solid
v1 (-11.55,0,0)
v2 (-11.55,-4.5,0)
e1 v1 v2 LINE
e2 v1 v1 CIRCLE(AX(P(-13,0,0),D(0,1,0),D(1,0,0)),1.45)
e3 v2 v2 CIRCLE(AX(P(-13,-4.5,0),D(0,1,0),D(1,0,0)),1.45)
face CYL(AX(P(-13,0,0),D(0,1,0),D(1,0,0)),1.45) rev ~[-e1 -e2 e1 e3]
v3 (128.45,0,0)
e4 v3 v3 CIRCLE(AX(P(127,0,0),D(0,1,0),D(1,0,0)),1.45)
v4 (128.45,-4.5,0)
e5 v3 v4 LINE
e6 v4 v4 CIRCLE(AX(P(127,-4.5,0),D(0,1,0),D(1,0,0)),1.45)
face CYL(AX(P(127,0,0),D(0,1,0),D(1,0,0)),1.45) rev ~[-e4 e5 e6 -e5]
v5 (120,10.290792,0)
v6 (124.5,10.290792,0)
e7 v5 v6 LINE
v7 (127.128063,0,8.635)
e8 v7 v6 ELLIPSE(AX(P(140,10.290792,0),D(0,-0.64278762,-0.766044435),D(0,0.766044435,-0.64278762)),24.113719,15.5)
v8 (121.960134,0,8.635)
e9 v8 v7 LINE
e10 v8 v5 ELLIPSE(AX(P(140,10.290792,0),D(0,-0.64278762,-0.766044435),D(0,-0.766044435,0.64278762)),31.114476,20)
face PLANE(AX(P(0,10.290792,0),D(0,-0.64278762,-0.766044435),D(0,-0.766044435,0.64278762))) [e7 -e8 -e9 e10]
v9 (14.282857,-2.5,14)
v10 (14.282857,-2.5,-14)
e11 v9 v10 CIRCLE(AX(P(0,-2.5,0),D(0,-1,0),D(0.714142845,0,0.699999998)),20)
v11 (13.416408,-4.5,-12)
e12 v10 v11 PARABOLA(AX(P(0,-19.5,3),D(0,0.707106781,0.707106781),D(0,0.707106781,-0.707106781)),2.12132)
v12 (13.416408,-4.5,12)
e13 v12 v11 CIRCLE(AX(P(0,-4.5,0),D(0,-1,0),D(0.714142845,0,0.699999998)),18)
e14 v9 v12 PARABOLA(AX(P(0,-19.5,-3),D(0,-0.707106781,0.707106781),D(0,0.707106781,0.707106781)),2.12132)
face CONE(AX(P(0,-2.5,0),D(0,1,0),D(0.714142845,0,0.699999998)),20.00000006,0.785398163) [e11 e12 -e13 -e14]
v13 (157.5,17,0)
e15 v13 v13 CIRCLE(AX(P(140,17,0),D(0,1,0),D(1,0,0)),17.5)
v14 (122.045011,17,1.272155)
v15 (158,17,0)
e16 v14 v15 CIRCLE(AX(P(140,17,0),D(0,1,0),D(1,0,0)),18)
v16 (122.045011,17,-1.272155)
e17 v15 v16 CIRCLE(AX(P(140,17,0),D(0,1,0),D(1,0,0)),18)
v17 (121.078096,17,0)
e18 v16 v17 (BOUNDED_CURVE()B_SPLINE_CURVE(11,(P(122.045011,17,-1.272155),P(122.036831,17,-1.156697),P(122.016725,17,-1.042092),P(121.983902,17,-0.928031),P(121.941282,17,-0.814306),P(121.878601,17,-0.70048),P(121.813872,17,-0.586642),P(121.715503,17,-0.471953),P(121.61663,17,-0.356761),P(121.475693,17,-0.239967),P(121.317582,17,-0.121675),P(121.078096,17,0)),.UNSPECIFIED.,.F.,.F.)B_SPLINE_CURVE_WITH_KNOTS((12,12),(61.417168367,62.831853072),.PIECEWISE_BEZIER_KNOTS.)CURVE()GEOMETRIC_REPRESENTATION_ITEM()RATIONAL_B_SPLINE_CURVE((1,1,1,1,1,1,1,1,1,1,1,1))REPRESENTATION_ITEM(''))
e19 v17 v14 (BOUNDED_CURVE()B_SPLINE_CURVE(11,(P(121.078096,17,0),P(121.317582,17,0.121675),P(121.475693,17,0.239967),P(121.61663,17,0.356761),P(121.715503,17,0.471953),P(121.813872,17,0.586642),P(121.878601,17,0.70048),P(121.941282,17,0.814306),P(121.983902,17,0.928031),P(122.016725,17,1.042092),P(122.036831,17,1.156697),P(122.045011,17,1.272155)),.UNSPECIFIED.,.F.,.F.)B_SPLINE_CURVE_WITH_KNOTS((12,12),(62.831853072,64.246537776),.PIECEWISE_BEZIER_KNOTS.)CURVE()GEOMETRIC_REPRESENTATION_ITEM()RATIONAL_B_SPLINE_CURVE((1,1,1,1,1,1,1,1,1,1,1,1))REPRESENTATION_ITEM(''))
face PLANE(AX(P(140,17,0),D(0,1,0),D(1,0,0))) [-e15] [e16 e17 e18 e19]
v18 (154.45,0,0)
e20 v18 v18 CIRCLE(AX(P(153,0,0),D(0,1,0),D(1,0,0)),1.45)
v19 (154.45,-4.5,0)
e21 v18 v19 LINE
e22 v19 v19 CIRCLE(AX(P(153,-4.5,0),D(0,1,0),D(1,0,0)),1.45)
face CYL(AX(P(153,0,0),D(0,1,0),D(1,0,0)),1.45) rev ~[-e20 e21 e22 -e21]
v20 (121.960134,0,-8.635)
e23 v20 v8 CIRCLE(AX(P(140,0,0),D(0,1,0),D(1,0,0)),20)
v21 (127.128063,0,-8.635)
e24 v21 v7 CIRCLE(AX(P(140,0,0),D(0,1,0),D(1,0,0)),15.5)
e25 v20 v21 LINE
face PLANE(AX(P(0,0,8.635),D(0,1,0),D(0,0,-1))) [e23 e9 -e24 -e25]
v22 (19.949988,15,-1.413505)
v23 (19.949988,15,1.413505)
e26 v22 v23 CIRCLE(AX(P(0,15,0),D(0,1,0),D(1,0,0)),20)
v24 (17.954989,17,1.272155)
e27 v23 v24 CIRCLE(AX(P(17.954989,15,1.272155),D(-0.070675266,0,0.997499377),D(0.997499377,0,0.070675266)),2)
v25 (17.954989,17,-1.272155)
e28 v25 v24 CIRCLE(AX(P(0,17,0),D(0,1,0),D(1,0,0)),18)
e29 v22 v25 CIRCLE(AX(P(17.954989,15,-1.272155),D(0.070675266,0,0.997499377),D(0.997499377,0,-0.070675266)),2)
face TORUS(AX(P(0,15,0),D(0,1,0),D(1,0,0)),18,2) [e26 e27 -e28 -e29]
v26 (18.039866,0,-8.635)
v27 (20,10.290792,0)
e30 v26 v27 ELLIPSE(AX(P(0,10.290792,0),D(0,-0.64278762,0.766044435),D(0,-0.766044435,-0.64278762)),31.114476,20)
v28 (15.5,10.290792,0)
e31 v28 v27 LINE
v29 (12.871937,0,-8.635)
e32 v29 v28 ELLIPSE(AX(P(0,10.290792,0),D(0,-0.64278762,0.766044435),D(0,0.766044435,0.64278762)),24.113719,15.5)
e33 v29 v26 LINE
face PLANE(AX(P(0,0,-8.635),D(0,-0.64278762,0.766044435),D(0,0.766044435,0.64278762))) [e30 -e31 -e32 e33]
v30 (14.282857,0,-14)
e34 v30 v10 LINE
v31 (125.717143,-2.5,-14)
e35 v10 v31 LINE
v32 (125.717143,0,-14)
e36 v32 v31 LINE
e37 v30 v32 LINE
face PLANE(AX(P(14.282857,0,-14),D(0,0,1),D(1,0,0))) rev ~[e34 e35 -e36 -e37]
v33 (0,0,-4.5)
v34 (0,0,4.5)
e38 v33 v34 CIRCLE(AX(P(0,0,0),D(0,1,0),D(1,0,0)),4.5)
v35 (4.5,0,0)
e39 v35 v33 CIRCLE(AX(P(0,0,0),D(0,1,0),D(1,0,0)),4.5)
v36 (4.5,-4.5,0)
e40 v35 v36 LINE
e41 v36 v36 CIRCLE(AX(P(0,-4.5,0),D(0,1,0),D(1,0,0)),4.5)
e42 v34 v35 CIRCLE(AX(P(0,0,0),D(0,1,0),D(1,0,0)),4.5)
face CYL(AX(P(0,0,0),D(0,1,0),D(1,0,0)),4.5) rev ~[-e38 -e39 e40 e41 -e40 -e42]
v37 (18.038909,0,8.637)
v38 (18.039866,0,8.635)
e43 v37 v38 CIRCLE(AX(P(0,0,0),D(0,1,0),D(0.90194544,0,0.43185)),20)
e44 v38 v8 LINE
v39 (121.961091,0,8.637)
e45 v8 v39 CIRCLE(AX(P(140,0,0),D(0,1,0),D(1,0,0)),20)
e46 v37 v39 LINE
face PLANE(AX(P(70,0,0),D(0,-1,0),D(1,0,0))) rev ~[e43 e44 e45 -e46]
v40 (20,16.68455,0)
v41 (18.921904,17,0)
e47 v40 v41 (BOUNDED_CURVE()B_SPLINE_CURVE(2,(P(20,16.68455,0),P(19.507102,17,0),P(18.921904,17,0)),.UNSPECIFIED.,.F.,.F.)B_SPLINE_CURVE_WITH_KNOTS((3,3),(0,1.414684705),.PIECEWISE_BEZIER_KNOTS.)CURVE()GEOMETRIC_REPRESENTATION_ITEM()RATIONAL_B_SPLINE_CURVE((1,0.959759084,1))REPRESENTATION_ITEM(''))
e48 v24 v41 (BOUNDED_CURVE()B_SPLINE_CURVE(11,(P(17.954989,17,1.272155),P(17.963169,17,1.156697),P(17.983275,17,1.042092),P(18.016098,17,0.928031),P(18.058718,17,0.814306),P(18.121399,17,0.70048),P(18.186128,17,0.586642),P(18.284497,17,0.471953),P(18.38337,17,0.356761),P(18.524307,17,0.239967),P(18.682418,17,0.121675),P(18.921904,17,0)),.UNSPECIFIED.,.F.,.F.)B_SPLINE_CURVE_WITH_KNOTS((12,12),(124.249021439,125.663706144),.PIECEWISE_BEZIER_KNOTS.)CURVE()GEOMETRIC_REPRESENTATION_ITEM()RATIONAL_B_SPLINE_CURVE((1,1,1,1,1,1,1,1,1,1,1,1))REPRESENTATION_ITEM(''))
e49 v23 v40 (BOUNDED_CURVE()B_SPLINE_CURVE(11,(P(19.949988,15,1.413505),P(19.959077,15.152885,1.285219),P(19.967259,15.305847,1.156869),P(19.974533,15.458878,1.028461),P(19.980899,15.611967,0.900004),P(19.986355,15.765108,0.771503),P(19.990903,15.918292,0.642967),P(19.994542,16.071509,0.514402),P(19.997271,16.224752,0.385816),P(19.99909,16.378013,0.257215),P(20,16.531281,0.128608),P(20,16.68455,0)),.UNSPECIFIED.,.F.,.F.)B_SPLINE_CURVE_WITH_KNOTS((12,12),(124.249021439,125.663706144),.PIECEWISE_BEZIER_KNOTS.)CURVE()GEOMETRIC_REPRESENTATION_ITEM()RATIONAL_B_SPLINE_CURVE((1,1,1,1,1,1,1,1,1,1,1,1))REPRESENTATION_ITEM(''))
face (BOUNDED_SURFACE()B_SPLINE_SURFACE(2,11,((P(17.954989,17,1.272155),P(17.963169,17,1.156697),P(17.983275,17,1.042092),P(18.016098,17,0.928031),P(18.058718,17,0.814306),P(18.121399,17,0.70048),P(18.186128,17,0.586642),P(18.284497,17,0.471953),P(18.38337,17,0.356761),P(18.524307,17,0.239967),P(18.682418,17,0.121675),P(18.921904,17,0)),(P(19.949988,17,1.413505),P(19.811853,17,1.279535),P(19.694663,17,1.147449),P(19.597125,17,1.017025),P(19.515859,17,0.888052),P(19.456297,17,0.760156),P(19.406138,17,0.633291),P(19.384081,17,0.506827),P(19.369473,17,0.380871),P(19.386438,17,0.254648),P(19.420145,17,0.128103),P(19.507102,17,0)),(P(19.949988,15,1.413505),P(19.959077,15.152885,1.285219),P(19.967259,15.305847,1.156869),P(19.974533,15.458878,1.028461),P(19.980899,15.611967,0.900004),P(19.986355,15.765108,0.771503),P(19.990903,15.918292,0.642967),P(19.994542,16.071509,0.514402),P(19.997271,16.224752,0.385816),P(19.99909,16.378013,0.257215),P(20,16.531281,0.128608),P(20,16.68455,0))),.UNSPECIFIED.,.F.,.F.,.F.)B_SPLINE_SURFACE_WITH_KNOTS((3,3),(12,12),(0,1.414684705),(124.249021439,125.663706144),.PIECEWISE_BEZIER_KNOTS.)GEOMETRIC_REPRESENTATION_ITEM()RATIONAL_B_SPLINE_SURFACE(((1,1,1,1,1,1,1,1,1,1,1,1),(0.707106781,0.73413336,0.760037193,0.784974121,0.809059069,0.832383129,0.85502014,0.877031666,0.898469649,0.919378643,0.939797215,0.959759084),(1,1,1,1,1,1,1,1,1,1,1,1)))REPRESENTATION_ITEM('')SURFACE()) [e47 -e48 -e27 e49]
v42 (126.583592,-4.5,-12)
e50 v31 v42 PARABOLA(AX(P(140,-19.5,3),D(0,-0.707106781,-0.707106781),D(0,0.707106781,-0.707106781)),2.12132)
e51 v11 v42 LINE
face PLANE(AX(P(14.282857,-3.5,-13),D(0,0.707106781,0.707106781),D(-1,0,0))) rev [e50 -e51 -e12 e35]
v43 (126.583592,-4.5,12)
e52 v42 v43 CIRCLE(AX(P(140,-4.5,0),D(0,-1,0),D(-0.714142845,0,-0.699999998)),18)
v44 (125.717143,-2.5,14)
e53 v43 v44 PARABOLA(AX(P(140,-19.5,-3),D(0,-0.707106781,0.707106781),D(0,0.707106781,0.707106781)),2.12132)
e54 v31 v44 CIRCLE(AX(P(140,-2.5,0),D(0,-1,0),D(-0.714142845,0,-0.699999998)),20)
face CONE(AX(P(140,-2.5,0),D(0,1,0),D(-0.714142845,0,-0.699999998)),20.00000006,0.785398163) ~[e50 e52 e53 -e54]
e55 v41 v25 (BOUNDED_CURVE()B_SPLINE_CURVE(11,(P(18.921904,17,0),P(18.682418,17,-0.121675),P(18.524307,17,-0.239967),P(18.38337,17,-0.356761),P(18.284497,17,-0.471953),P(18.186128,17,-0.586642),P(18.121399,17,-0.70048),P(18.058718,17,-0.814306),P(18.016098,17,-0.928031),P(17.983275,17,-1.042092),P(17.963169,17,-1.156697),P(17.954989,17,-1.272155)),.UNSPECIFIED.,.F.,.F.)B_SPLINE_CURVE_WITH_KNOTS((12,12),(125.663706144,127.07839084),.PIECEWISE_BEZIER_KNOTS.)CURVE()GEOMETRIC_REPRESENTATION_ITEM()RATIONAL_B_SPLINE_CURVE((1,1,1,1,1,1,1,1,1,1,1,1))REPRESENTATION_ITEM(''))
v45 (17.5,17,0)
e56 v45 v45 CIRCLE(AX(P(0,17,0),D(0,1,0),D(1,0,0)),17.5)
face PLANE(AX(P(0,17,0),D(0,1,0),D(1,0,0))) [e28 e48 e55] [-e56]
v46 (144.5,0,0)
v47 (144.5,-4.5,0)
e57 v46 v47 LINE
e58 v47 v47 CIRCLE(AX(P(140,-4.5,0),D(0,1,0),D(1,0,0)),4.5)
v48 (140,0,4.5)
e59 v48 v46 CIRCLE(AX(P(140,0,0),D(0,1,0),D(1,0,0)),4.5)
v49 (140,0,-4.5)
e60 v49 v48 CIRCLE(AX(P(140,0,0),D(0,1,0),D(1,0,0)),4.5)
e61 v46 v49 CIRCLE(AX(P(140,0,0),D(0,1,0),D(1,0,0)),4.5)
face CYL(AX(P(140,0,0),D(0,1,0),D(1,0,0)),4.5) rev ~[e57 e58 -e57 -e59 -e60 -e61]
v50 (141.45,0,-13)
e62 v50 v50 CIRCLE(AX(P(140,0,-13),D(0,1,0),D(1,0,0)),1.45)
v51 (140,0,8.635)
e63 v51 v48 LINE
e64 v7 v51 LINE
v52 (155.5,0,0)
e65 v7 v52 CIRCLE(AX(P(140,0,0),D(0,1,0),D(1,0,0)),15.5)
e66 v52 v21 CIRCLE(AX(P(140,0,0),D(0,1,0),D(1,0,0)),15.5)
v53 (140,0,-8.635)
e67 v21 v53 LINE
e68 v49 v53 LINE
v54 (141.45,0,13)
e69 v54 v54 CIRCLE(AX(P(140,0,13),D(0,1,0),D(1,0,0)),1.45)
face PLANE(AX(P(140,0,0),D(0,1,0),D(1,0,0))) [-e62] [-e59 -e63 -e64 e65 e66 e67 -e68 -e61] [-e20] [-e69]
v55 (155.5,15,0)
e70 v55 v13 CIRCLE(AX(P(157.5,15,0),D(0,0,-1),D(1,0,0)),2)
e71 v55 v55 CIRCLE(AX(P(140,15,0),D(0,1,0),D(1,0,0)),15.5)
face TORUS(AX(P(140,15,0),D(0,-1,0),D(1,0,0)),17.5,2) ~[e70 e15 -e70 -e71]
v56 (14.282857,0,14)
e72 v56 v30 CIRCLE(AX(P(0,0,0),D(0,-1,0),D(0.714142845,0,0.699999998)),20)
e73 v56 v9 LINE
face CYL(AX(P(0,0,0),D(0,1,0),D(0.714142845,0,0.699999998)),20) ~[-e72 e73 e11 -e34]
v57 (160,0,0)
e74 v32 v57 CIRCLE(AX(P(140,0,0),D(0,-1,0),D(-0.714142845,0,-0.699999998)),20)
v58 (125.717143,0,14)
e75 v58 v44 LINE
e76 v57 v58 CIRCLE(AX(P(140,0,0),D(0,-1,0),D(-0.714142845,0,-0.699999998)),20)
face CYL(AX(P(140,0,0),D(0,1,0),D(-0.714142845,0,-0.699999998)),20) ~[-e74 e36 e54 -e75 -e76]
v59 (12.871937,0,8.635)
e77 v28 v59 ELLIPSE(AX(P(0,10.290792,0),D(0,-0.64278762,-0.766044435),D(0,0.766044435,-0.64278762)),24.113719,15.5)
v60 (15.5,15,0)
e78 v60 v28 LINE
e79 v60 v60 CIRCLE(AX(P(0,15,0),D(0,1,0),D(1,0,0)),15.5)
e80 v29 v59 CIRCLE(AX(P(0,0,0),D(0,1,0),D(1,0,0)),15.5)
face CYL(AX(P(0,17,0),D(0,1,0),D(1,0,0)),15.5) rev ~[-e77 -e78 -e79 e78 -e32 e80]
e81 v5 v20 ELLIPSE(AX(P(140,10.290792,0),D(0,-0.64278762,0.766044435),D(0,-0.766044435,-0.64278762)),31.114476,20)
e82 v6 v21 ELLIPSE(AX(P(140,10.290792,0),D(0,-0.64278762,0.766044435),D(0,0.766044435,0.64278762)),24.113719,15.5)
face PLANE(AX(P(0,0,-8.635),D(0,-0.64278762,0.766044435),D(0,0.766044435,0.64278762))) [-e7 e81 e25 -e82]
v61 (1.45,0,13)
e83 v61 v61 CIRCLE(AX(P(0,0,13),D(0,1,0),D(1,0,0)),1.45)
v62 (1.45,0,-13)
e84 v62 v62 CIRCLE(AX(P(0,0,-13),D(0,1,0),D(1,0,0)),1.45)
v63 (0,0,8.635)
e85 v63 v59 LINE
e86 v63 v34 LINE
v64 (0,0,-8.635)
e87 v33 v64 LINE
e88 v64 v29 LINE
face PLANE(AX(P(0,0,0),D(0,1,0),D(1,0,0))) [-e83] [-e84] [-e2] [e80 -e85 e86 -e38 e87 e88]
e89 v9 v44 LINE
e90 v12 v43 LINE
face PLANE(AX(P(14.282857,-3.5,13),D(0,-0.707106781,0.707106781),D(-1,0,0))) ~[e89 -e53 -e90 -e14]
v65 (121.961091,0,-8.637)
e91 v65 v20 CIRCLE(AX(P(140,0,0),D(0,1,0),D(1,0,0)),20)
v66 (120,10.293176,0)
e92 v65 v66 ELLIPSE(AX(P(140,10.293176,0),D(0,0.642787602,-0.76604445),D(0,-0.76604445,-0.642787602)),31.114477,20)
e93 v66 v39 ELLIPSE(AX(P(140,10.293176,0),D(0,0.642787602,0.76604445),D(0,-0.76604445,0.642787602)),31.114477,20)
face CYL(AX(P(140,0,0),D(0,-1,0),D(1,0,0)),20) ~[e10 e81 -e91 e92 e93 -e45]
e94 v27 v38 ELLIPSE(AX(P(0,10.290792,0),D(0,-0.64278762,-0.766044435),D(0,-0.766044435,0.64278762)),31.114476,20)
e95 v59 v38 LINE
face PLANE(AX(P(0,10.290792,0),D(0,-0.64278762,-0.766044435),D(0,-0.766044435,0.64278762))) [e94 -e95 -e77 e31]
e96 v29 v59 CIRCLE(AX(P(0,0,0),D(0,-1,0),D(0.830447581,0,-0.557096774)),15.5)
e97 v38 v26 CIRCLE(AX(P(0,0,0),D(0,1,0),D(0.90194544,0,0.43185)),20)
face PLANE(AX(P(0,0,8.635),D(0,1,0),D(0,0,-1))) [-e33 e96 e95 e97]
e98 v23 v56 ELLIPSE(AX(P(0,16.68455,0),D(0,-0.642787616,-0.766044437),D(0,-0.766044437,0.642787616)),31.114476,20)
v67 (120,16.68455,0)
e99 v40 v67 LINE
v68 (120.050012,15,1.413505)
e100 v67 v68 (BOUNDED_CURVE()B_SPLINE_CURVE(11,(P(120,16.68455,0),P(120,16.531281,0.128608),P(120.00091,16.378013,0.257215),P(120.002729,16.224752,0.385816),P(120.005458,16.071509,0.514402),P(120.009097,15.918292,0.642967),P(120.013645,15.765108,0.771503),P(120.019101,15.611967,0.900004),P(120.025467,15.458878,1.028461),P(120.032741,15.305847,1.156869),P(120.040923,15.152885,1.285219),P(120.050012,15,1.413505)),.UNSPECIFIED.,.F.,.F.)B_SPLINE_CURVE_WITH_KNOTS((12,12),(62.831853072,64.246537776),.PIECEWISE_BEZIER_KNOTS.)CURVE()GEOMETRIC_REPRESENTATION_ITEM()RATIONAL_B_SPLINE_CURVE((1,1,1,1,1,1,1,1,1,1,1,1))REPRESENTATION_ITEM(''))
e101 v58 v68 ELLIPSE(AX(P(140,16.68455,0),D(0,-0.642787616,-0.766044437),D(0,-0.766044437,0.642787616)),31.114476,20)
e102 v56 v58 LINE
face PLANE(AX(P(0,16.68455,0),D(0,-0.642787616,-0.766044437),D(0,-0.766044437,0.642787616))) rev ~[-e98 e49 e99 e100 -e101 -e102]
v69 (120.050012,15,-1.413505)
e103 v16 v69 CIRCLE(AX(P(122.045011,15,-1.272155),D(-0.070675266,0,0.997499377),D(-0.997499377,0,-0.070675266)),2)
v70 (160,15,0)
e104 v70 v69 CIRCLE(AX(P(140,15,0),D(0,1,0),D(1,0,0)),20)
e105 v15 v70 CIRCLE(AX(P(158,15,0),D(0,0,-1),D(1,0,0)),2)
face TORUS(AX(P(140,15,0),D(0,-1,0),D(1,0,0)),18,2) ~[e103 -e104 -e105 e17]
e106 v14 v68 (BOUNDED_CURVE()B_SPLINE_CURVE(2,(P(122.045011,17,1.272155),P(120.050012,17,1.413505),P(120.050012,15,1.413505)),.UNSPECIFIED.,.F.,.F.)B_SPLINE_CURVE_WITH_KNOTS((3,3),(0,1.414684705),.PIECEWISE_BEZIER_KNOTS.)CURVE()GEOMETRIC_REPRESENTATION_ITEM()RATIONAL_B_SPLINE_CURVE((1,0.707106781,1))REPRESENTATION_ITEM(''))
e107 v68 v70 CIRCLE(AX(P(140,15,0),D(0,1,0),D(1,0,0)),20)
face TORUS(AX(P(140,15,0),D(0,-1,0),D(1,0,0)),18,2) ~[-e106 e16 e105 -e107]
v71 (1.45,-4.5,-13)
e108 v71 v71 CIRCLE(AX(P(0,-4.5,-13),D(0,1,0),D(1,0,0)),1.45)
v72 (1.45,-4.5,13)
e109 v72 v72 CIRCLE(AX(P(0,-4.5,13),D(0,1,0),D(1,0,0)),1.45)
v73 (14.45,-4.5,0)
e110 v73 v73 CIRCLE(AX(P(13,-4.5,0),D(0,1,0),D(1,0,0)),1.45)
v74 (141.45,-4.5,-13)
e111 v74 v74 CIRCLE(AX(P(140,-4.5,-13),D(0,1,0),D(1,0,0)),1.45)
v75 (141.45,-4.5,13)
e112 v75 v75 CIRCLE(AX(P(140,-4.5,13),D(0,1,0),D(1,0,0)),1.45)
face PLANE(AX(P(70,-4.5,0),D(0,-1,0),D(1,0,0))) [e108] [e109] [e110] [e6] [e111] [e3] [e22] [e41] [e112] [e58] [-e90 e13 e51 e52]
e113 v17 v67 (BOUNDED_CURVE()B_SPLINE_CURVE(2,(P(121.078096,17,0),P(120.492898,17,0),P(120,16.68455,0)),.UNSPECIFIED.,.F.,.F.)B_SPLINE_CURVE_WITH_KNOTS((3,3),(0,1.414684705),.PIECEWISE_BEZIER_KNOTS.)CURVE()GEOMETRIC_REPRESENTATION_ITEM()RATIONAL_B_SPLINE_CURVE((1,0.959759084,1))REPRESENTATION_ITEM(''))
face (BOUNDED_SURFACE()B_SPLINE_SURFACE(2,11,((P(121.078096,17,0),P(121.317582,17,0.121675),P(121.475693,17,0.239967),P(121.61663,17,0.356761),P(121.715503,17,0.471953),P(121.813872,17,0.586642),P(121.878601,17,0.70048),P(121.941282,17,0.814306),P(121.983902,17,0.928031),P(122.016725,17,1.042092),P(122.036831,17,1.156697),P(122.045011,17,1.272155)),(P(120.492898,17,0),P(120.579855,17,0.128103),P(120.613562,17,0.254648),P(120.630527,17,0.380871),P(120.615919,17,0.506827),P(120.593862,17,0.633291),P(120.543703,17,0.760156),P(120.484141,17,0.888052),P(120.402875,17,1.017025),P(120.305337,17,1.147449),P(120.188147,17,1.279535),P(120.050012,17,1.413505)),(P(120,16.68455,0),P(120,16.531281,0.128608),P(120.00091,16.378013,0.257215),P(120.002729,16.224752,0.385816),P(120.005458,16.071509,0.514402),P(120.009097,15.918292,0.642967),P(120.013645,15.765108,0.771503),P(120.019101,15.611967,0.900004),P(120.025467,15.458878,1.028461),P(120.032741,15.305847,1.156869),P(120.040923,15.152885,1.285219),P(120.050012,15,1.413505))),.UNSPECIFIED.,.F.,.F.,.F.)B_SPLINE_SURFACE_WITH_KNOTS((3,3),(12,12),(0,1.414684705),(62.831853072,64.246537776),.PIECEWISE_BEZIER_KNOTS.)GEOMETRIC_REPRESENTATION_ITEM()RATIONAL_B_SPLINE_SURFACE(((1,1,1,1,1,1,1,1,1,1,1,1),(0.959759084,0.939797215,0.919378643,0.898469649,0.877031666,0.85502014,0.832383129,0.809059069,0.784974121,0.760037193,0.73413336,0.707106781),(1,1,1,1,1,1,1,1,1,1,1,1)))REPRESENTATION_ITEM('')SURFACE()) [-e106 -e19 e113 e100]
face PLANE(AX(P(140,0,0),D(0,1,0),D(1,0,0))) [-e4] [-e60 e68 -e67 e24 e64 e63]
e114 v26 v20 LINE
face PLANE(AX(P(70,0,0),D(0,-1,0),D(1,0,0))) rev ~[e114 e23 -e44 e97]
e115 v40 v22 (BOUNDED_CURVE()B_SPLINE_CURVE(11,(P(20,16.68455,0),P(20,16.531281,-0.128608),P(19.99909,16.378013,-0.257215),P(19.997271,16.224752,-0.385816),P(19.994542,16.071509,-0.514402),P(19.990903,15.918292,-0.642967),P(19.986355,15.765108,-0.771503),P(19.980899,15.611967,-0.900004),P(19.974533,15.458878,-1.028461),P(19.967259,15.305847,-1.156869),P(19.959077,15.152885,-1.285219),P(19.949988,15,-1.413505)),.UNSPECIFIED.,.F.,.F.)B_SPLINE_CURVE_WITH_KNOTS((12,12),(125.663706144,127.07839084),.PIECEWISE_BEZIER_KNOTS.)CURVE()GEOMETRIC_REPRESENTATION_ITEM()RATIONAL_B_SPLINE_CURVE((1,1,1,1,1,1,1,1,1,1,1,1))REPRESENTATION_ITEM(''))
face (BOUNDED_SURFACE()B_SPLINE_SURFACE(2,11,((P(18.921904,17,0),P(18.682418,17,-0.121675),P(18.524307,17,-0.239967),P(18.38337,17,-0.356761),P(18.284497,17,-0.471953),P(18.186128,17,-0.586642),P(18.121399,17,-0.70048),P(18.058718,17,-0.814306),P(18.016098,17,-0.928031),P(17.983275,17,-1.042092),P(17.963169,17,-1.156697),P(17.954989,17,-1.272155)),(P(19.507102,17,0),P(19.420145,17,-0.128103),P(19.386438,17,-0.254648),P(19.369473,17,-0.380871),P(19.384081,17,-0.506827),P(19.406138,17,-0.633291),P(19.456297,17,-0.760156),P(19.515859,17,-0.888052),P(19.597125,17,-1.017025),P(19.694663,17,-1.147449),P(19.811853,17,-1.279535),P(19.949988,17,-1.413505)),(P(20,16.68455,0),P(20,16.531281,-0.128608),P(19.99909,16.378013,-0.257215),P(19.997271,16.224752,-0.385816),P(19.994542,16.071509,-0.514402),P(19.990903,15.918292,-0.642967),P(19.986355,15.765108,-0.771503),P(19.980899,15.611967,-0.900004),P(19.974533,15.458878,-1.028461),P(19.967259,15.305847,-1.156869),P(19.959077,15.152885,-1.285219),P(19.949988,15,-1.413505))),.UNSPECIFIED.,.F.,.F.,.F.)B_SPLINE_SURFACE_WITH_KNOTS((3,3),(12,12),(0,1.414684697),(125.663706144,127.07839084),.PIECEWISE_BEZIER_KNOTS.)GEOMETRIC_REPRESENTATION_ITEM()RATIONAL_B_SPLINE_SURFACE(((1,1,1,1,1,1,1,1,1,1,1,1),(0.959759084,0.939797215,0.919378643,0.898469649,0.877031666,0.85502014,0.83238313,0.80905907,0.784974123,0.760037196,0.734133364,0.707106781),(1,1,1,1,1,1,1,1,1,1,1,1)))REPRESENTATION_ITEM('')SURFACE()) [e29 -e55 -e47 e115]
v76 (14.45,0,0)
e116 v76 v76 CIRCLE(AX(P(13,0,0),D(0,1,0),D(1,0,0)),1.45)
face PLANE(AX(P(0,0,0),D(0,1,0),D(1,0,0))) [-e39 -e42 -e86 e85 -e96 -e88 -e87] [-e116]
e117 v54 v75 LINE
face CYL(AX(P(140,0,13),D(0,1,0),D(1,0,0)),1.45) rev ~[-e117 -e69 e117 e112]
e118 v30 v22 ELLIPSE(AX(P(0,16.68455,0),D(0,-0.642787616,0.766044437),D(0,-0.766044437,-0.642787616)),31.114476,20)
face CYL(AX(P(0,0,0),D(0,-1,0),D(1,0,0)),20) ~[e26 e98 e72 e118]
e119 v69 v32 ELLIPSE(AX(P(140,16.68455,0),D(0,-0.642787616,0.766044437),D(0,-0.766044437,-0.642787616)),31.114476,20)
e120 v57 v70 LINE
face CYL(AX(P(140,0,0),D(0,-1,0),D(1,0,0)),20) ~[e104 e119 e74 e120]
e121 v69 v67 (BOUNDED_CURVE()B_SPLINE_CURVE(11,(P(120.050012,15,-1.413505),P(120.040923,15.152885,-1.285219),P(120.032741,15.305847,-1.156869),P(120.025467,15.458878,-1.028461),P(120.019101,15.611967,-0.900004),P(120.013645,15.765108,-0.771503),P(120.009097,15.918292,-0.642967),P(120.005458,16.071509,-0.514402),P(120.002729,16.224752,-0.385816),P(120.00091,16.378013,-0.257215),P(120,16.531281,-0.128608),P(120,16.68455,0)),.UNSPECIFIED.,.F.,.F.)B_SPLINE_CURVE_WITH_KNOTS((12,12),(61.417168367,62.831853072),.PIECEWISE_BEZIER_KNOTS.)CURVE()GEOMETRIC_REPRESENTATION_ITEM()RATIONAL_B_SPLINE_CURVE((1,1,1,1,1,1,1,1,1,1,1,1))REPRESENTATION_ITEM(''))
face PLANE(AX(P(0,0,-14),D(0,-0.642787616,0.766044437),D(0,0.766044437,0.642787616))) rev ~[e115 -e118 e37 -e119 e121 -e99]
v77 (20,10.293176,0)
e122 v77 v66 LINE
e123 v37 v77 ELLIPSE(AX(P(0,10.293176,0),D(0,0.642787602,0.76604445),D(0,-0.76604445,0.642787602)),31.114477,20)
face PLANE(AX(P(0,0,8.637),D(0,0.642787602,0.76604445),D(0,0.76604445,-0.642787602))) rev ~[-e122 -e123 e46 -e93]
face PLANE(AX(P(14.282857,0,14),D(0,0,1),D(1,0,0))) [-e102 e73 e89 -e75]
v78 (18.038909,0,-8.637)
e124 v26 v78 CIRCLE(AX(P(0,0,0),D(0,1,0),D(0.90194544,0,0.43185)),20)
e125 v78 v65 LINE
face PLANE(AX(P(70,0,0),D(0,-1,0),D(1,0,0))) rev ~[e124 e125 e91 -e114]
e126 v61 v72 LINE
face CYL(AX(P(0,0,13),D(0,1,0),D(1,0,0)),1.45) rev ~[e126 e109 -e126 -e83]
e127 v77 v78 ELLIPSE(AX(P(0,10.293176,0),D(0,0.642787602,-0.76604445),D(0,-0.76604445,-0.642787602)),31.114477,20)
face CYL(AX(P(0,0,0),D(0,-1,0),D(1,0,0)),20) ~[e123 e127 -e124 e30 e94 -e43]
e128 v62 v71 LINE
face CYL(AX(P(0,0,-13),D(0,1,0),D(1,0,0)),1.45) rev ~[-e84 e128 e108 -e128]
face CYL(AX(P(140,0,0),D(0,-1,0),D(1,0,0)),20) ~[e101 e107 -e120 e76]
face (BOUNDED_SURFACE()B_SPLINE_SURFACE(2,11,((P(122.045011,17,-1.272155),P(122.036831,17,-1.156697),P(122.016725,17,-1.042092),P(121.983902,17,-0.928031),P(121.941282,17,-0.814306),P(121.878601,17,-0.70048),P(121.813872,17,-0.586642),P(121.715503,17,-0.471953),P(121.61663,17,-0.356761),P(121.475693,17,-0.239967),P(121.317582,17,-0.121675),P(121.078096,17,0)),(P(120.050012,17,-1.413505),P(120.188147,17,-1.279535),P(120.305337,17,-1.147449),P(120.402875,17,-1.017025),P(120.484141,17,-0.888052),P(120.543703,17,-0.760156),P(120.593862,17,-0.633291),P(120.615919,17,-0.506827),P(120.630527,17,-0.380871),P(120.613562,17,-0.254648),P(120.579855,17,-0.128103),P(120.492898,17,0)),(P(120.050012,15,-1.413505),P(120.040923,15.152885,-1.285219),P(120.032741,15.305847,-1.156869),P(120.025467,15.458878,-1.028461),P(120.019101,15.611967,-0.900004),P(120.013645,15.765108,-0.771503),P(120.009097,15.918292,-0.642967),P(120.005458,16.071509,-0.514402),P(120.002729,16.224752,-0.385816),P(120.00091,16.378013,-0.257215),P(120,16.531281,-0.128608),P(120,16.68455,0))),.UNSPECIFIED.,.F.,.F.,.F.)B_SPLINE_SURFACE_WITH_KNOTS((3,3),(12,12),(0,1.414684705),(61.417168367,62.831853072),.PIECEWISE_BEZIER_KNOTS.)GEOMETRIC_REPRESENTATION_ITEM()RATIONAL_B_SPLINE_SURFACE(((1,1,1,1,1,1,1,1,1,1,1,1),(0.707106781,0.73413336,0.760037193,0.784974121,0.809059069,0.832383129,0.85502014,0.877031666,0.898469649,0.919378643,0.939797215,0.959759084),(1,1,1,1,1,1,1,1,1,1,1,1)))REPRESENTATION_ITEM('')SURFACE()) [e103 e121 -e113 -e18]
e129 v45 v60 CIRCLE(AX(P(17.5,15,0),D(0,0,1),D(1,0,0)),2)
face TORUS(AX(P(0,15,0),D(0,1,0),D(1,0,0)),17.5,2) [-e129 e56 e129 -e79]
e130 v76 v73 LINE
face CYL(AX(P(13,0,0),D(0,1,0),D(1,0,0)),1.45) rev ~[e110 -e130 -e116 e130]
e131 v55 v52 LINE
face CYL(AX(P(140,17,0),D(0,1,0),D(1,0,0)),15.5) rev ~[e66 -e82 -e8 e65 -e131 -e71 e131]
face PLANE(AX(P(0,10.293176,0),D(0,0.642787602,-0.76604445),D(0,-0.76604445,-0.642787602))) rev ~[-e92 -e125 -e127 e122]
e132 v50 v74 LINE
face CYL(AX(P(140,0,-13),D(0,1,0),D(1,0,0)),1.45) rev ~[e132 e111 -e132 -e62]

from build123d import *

# Parameters (mm, degrees)
PAD_DEPTH       = 4.5
PAD001_DEPTH    = 140
SKETCH002_R     = 20
PAD002_DEPTH    = 17
SKETCH003_R     = 15.5
POCKET_DEPTH    = 17
POCKET001_DEPTH = 140
FILLET_R        = 2
CHAMFER_SIZE    = 2
SKETCH005_R     = 4.5
SKETCH005_R_2   = 1.45
POCKET002_DEPTH = 5


with BuildPart() as part:
    # Sketch → Pad (new body)
    with BuildSketch(Plane.XZ):
        with BuildLine():
            ThreePointArc((14.282857, 14), (-20, 0), (14.282857, -14))
            Line((14.282857, -14), (125.717143, -14))
            ThreePointArc((125.717143, -14), (160, 0), (125.717143, 14))
            Line((14.282857, 14), (125.717143, 14))
        make_face()
    extrude(amount=PAD_DEPTH)

    # Sketch001 → Pad001 (join)
    with BuildSketch(Plane.YZ):
        Polygon((0, 8.637), (10.293176, 0), (0, -8.637), (0, -14), (16.68455, 0), (0, 14), align=None)
    extrude(amount=PAD001_DEPTH)

    # Sketch002 (on Face4 of Pad001) → Pad002 (join)
    with BuildSketch(Plane(origin=(0, 0, 0), x_dir=(1, 0, 0), z_dir=(0, 1, 0))):
        Circle(SKETCH002_R)
        with Locations((140, 0)):
            Circle(SKETCH002_R)
    extrude(amount=PAD002_DEPTH)

    # Sketch003 (on Face9 of Pad002) → Pocket (cut)
    with BuildSketch(Plane(origin=(0, 17, 0), x_dir=(1, 0, 0), z_dir=(0, 1, 0))):
        Circle(SKETCH003_R)
        with Locations((140, 0)):
            Circle(SKETCH003_R)
    extrude(amount=-POCKET_DEPTH, mode=Mode.SUBTRACT)

    # Sketch004 → Pocket001 (cut)
    with BuildSketch(Plane.YZ):
        Polygon((0, 8.635), (0, -8.635), (10.290792, 0), align=None)
    extrude(amount=POCKET001_DEPTH, mode=Mode.SUBTRACT)

    # Fillet
    fillet_edges = [part.edges().sort_by_distance(p)[0] for p in [
        (120, 17, 0),
        (124.5, 17, 0),
        (-20, 17, 0),
        (-15.5, 17, 0),
    ]]
    fillet(fillet_edges, radius=FILLET_R)

    # Chamfer
    chamfer_edges = [part.edges().sort_by_distance(p)[0] for p in [
        (-20, -4.5, 0),
        (70, -4.5, -14),
        (160, -4.5, 0),
        (70, -4.5, 14),
    ]]
    chamfer(chamfer_edges, length=CHAMFER_SIZE)

    # Sketch005 (on Face29 of Chamfer) → Pocket002 (cut)
    with BuildSketch(Plane(origin=(0, 0, 0), x_dir=(1, 0, 0), z_dir=(0, 1, 0))):
        Circle(SKETCH005_R)
        with Locations((13, 0)):
            Circle(SKETCH005_R_2)
        with Locations((-13, 0)):
            Circle(SKETCH005_R_2)
        with Locations((140, 0)):
            Circle(SKETCH005_R)
        with Locations((153, 0)):
            Circle(SKETCH005_R_2)
        with Locations((127, 0)):
            Circle(SKETCH005_R_2)
        with Locations((0, 13)):
            Circle(SKETCH005_R_2)
        with Locations((0, -13)):
            Circle(SKETCH005_R_2)
        with Locations((140, 13)):
            Circle(SKETCH005_R_2)
        with Locations((140, -13)):
            Circle(SKETCH005_R_2)
    extrude(amount=-POCKET002_DEPTH, mode=Mode.SUBTRACT)


solid = part.part
